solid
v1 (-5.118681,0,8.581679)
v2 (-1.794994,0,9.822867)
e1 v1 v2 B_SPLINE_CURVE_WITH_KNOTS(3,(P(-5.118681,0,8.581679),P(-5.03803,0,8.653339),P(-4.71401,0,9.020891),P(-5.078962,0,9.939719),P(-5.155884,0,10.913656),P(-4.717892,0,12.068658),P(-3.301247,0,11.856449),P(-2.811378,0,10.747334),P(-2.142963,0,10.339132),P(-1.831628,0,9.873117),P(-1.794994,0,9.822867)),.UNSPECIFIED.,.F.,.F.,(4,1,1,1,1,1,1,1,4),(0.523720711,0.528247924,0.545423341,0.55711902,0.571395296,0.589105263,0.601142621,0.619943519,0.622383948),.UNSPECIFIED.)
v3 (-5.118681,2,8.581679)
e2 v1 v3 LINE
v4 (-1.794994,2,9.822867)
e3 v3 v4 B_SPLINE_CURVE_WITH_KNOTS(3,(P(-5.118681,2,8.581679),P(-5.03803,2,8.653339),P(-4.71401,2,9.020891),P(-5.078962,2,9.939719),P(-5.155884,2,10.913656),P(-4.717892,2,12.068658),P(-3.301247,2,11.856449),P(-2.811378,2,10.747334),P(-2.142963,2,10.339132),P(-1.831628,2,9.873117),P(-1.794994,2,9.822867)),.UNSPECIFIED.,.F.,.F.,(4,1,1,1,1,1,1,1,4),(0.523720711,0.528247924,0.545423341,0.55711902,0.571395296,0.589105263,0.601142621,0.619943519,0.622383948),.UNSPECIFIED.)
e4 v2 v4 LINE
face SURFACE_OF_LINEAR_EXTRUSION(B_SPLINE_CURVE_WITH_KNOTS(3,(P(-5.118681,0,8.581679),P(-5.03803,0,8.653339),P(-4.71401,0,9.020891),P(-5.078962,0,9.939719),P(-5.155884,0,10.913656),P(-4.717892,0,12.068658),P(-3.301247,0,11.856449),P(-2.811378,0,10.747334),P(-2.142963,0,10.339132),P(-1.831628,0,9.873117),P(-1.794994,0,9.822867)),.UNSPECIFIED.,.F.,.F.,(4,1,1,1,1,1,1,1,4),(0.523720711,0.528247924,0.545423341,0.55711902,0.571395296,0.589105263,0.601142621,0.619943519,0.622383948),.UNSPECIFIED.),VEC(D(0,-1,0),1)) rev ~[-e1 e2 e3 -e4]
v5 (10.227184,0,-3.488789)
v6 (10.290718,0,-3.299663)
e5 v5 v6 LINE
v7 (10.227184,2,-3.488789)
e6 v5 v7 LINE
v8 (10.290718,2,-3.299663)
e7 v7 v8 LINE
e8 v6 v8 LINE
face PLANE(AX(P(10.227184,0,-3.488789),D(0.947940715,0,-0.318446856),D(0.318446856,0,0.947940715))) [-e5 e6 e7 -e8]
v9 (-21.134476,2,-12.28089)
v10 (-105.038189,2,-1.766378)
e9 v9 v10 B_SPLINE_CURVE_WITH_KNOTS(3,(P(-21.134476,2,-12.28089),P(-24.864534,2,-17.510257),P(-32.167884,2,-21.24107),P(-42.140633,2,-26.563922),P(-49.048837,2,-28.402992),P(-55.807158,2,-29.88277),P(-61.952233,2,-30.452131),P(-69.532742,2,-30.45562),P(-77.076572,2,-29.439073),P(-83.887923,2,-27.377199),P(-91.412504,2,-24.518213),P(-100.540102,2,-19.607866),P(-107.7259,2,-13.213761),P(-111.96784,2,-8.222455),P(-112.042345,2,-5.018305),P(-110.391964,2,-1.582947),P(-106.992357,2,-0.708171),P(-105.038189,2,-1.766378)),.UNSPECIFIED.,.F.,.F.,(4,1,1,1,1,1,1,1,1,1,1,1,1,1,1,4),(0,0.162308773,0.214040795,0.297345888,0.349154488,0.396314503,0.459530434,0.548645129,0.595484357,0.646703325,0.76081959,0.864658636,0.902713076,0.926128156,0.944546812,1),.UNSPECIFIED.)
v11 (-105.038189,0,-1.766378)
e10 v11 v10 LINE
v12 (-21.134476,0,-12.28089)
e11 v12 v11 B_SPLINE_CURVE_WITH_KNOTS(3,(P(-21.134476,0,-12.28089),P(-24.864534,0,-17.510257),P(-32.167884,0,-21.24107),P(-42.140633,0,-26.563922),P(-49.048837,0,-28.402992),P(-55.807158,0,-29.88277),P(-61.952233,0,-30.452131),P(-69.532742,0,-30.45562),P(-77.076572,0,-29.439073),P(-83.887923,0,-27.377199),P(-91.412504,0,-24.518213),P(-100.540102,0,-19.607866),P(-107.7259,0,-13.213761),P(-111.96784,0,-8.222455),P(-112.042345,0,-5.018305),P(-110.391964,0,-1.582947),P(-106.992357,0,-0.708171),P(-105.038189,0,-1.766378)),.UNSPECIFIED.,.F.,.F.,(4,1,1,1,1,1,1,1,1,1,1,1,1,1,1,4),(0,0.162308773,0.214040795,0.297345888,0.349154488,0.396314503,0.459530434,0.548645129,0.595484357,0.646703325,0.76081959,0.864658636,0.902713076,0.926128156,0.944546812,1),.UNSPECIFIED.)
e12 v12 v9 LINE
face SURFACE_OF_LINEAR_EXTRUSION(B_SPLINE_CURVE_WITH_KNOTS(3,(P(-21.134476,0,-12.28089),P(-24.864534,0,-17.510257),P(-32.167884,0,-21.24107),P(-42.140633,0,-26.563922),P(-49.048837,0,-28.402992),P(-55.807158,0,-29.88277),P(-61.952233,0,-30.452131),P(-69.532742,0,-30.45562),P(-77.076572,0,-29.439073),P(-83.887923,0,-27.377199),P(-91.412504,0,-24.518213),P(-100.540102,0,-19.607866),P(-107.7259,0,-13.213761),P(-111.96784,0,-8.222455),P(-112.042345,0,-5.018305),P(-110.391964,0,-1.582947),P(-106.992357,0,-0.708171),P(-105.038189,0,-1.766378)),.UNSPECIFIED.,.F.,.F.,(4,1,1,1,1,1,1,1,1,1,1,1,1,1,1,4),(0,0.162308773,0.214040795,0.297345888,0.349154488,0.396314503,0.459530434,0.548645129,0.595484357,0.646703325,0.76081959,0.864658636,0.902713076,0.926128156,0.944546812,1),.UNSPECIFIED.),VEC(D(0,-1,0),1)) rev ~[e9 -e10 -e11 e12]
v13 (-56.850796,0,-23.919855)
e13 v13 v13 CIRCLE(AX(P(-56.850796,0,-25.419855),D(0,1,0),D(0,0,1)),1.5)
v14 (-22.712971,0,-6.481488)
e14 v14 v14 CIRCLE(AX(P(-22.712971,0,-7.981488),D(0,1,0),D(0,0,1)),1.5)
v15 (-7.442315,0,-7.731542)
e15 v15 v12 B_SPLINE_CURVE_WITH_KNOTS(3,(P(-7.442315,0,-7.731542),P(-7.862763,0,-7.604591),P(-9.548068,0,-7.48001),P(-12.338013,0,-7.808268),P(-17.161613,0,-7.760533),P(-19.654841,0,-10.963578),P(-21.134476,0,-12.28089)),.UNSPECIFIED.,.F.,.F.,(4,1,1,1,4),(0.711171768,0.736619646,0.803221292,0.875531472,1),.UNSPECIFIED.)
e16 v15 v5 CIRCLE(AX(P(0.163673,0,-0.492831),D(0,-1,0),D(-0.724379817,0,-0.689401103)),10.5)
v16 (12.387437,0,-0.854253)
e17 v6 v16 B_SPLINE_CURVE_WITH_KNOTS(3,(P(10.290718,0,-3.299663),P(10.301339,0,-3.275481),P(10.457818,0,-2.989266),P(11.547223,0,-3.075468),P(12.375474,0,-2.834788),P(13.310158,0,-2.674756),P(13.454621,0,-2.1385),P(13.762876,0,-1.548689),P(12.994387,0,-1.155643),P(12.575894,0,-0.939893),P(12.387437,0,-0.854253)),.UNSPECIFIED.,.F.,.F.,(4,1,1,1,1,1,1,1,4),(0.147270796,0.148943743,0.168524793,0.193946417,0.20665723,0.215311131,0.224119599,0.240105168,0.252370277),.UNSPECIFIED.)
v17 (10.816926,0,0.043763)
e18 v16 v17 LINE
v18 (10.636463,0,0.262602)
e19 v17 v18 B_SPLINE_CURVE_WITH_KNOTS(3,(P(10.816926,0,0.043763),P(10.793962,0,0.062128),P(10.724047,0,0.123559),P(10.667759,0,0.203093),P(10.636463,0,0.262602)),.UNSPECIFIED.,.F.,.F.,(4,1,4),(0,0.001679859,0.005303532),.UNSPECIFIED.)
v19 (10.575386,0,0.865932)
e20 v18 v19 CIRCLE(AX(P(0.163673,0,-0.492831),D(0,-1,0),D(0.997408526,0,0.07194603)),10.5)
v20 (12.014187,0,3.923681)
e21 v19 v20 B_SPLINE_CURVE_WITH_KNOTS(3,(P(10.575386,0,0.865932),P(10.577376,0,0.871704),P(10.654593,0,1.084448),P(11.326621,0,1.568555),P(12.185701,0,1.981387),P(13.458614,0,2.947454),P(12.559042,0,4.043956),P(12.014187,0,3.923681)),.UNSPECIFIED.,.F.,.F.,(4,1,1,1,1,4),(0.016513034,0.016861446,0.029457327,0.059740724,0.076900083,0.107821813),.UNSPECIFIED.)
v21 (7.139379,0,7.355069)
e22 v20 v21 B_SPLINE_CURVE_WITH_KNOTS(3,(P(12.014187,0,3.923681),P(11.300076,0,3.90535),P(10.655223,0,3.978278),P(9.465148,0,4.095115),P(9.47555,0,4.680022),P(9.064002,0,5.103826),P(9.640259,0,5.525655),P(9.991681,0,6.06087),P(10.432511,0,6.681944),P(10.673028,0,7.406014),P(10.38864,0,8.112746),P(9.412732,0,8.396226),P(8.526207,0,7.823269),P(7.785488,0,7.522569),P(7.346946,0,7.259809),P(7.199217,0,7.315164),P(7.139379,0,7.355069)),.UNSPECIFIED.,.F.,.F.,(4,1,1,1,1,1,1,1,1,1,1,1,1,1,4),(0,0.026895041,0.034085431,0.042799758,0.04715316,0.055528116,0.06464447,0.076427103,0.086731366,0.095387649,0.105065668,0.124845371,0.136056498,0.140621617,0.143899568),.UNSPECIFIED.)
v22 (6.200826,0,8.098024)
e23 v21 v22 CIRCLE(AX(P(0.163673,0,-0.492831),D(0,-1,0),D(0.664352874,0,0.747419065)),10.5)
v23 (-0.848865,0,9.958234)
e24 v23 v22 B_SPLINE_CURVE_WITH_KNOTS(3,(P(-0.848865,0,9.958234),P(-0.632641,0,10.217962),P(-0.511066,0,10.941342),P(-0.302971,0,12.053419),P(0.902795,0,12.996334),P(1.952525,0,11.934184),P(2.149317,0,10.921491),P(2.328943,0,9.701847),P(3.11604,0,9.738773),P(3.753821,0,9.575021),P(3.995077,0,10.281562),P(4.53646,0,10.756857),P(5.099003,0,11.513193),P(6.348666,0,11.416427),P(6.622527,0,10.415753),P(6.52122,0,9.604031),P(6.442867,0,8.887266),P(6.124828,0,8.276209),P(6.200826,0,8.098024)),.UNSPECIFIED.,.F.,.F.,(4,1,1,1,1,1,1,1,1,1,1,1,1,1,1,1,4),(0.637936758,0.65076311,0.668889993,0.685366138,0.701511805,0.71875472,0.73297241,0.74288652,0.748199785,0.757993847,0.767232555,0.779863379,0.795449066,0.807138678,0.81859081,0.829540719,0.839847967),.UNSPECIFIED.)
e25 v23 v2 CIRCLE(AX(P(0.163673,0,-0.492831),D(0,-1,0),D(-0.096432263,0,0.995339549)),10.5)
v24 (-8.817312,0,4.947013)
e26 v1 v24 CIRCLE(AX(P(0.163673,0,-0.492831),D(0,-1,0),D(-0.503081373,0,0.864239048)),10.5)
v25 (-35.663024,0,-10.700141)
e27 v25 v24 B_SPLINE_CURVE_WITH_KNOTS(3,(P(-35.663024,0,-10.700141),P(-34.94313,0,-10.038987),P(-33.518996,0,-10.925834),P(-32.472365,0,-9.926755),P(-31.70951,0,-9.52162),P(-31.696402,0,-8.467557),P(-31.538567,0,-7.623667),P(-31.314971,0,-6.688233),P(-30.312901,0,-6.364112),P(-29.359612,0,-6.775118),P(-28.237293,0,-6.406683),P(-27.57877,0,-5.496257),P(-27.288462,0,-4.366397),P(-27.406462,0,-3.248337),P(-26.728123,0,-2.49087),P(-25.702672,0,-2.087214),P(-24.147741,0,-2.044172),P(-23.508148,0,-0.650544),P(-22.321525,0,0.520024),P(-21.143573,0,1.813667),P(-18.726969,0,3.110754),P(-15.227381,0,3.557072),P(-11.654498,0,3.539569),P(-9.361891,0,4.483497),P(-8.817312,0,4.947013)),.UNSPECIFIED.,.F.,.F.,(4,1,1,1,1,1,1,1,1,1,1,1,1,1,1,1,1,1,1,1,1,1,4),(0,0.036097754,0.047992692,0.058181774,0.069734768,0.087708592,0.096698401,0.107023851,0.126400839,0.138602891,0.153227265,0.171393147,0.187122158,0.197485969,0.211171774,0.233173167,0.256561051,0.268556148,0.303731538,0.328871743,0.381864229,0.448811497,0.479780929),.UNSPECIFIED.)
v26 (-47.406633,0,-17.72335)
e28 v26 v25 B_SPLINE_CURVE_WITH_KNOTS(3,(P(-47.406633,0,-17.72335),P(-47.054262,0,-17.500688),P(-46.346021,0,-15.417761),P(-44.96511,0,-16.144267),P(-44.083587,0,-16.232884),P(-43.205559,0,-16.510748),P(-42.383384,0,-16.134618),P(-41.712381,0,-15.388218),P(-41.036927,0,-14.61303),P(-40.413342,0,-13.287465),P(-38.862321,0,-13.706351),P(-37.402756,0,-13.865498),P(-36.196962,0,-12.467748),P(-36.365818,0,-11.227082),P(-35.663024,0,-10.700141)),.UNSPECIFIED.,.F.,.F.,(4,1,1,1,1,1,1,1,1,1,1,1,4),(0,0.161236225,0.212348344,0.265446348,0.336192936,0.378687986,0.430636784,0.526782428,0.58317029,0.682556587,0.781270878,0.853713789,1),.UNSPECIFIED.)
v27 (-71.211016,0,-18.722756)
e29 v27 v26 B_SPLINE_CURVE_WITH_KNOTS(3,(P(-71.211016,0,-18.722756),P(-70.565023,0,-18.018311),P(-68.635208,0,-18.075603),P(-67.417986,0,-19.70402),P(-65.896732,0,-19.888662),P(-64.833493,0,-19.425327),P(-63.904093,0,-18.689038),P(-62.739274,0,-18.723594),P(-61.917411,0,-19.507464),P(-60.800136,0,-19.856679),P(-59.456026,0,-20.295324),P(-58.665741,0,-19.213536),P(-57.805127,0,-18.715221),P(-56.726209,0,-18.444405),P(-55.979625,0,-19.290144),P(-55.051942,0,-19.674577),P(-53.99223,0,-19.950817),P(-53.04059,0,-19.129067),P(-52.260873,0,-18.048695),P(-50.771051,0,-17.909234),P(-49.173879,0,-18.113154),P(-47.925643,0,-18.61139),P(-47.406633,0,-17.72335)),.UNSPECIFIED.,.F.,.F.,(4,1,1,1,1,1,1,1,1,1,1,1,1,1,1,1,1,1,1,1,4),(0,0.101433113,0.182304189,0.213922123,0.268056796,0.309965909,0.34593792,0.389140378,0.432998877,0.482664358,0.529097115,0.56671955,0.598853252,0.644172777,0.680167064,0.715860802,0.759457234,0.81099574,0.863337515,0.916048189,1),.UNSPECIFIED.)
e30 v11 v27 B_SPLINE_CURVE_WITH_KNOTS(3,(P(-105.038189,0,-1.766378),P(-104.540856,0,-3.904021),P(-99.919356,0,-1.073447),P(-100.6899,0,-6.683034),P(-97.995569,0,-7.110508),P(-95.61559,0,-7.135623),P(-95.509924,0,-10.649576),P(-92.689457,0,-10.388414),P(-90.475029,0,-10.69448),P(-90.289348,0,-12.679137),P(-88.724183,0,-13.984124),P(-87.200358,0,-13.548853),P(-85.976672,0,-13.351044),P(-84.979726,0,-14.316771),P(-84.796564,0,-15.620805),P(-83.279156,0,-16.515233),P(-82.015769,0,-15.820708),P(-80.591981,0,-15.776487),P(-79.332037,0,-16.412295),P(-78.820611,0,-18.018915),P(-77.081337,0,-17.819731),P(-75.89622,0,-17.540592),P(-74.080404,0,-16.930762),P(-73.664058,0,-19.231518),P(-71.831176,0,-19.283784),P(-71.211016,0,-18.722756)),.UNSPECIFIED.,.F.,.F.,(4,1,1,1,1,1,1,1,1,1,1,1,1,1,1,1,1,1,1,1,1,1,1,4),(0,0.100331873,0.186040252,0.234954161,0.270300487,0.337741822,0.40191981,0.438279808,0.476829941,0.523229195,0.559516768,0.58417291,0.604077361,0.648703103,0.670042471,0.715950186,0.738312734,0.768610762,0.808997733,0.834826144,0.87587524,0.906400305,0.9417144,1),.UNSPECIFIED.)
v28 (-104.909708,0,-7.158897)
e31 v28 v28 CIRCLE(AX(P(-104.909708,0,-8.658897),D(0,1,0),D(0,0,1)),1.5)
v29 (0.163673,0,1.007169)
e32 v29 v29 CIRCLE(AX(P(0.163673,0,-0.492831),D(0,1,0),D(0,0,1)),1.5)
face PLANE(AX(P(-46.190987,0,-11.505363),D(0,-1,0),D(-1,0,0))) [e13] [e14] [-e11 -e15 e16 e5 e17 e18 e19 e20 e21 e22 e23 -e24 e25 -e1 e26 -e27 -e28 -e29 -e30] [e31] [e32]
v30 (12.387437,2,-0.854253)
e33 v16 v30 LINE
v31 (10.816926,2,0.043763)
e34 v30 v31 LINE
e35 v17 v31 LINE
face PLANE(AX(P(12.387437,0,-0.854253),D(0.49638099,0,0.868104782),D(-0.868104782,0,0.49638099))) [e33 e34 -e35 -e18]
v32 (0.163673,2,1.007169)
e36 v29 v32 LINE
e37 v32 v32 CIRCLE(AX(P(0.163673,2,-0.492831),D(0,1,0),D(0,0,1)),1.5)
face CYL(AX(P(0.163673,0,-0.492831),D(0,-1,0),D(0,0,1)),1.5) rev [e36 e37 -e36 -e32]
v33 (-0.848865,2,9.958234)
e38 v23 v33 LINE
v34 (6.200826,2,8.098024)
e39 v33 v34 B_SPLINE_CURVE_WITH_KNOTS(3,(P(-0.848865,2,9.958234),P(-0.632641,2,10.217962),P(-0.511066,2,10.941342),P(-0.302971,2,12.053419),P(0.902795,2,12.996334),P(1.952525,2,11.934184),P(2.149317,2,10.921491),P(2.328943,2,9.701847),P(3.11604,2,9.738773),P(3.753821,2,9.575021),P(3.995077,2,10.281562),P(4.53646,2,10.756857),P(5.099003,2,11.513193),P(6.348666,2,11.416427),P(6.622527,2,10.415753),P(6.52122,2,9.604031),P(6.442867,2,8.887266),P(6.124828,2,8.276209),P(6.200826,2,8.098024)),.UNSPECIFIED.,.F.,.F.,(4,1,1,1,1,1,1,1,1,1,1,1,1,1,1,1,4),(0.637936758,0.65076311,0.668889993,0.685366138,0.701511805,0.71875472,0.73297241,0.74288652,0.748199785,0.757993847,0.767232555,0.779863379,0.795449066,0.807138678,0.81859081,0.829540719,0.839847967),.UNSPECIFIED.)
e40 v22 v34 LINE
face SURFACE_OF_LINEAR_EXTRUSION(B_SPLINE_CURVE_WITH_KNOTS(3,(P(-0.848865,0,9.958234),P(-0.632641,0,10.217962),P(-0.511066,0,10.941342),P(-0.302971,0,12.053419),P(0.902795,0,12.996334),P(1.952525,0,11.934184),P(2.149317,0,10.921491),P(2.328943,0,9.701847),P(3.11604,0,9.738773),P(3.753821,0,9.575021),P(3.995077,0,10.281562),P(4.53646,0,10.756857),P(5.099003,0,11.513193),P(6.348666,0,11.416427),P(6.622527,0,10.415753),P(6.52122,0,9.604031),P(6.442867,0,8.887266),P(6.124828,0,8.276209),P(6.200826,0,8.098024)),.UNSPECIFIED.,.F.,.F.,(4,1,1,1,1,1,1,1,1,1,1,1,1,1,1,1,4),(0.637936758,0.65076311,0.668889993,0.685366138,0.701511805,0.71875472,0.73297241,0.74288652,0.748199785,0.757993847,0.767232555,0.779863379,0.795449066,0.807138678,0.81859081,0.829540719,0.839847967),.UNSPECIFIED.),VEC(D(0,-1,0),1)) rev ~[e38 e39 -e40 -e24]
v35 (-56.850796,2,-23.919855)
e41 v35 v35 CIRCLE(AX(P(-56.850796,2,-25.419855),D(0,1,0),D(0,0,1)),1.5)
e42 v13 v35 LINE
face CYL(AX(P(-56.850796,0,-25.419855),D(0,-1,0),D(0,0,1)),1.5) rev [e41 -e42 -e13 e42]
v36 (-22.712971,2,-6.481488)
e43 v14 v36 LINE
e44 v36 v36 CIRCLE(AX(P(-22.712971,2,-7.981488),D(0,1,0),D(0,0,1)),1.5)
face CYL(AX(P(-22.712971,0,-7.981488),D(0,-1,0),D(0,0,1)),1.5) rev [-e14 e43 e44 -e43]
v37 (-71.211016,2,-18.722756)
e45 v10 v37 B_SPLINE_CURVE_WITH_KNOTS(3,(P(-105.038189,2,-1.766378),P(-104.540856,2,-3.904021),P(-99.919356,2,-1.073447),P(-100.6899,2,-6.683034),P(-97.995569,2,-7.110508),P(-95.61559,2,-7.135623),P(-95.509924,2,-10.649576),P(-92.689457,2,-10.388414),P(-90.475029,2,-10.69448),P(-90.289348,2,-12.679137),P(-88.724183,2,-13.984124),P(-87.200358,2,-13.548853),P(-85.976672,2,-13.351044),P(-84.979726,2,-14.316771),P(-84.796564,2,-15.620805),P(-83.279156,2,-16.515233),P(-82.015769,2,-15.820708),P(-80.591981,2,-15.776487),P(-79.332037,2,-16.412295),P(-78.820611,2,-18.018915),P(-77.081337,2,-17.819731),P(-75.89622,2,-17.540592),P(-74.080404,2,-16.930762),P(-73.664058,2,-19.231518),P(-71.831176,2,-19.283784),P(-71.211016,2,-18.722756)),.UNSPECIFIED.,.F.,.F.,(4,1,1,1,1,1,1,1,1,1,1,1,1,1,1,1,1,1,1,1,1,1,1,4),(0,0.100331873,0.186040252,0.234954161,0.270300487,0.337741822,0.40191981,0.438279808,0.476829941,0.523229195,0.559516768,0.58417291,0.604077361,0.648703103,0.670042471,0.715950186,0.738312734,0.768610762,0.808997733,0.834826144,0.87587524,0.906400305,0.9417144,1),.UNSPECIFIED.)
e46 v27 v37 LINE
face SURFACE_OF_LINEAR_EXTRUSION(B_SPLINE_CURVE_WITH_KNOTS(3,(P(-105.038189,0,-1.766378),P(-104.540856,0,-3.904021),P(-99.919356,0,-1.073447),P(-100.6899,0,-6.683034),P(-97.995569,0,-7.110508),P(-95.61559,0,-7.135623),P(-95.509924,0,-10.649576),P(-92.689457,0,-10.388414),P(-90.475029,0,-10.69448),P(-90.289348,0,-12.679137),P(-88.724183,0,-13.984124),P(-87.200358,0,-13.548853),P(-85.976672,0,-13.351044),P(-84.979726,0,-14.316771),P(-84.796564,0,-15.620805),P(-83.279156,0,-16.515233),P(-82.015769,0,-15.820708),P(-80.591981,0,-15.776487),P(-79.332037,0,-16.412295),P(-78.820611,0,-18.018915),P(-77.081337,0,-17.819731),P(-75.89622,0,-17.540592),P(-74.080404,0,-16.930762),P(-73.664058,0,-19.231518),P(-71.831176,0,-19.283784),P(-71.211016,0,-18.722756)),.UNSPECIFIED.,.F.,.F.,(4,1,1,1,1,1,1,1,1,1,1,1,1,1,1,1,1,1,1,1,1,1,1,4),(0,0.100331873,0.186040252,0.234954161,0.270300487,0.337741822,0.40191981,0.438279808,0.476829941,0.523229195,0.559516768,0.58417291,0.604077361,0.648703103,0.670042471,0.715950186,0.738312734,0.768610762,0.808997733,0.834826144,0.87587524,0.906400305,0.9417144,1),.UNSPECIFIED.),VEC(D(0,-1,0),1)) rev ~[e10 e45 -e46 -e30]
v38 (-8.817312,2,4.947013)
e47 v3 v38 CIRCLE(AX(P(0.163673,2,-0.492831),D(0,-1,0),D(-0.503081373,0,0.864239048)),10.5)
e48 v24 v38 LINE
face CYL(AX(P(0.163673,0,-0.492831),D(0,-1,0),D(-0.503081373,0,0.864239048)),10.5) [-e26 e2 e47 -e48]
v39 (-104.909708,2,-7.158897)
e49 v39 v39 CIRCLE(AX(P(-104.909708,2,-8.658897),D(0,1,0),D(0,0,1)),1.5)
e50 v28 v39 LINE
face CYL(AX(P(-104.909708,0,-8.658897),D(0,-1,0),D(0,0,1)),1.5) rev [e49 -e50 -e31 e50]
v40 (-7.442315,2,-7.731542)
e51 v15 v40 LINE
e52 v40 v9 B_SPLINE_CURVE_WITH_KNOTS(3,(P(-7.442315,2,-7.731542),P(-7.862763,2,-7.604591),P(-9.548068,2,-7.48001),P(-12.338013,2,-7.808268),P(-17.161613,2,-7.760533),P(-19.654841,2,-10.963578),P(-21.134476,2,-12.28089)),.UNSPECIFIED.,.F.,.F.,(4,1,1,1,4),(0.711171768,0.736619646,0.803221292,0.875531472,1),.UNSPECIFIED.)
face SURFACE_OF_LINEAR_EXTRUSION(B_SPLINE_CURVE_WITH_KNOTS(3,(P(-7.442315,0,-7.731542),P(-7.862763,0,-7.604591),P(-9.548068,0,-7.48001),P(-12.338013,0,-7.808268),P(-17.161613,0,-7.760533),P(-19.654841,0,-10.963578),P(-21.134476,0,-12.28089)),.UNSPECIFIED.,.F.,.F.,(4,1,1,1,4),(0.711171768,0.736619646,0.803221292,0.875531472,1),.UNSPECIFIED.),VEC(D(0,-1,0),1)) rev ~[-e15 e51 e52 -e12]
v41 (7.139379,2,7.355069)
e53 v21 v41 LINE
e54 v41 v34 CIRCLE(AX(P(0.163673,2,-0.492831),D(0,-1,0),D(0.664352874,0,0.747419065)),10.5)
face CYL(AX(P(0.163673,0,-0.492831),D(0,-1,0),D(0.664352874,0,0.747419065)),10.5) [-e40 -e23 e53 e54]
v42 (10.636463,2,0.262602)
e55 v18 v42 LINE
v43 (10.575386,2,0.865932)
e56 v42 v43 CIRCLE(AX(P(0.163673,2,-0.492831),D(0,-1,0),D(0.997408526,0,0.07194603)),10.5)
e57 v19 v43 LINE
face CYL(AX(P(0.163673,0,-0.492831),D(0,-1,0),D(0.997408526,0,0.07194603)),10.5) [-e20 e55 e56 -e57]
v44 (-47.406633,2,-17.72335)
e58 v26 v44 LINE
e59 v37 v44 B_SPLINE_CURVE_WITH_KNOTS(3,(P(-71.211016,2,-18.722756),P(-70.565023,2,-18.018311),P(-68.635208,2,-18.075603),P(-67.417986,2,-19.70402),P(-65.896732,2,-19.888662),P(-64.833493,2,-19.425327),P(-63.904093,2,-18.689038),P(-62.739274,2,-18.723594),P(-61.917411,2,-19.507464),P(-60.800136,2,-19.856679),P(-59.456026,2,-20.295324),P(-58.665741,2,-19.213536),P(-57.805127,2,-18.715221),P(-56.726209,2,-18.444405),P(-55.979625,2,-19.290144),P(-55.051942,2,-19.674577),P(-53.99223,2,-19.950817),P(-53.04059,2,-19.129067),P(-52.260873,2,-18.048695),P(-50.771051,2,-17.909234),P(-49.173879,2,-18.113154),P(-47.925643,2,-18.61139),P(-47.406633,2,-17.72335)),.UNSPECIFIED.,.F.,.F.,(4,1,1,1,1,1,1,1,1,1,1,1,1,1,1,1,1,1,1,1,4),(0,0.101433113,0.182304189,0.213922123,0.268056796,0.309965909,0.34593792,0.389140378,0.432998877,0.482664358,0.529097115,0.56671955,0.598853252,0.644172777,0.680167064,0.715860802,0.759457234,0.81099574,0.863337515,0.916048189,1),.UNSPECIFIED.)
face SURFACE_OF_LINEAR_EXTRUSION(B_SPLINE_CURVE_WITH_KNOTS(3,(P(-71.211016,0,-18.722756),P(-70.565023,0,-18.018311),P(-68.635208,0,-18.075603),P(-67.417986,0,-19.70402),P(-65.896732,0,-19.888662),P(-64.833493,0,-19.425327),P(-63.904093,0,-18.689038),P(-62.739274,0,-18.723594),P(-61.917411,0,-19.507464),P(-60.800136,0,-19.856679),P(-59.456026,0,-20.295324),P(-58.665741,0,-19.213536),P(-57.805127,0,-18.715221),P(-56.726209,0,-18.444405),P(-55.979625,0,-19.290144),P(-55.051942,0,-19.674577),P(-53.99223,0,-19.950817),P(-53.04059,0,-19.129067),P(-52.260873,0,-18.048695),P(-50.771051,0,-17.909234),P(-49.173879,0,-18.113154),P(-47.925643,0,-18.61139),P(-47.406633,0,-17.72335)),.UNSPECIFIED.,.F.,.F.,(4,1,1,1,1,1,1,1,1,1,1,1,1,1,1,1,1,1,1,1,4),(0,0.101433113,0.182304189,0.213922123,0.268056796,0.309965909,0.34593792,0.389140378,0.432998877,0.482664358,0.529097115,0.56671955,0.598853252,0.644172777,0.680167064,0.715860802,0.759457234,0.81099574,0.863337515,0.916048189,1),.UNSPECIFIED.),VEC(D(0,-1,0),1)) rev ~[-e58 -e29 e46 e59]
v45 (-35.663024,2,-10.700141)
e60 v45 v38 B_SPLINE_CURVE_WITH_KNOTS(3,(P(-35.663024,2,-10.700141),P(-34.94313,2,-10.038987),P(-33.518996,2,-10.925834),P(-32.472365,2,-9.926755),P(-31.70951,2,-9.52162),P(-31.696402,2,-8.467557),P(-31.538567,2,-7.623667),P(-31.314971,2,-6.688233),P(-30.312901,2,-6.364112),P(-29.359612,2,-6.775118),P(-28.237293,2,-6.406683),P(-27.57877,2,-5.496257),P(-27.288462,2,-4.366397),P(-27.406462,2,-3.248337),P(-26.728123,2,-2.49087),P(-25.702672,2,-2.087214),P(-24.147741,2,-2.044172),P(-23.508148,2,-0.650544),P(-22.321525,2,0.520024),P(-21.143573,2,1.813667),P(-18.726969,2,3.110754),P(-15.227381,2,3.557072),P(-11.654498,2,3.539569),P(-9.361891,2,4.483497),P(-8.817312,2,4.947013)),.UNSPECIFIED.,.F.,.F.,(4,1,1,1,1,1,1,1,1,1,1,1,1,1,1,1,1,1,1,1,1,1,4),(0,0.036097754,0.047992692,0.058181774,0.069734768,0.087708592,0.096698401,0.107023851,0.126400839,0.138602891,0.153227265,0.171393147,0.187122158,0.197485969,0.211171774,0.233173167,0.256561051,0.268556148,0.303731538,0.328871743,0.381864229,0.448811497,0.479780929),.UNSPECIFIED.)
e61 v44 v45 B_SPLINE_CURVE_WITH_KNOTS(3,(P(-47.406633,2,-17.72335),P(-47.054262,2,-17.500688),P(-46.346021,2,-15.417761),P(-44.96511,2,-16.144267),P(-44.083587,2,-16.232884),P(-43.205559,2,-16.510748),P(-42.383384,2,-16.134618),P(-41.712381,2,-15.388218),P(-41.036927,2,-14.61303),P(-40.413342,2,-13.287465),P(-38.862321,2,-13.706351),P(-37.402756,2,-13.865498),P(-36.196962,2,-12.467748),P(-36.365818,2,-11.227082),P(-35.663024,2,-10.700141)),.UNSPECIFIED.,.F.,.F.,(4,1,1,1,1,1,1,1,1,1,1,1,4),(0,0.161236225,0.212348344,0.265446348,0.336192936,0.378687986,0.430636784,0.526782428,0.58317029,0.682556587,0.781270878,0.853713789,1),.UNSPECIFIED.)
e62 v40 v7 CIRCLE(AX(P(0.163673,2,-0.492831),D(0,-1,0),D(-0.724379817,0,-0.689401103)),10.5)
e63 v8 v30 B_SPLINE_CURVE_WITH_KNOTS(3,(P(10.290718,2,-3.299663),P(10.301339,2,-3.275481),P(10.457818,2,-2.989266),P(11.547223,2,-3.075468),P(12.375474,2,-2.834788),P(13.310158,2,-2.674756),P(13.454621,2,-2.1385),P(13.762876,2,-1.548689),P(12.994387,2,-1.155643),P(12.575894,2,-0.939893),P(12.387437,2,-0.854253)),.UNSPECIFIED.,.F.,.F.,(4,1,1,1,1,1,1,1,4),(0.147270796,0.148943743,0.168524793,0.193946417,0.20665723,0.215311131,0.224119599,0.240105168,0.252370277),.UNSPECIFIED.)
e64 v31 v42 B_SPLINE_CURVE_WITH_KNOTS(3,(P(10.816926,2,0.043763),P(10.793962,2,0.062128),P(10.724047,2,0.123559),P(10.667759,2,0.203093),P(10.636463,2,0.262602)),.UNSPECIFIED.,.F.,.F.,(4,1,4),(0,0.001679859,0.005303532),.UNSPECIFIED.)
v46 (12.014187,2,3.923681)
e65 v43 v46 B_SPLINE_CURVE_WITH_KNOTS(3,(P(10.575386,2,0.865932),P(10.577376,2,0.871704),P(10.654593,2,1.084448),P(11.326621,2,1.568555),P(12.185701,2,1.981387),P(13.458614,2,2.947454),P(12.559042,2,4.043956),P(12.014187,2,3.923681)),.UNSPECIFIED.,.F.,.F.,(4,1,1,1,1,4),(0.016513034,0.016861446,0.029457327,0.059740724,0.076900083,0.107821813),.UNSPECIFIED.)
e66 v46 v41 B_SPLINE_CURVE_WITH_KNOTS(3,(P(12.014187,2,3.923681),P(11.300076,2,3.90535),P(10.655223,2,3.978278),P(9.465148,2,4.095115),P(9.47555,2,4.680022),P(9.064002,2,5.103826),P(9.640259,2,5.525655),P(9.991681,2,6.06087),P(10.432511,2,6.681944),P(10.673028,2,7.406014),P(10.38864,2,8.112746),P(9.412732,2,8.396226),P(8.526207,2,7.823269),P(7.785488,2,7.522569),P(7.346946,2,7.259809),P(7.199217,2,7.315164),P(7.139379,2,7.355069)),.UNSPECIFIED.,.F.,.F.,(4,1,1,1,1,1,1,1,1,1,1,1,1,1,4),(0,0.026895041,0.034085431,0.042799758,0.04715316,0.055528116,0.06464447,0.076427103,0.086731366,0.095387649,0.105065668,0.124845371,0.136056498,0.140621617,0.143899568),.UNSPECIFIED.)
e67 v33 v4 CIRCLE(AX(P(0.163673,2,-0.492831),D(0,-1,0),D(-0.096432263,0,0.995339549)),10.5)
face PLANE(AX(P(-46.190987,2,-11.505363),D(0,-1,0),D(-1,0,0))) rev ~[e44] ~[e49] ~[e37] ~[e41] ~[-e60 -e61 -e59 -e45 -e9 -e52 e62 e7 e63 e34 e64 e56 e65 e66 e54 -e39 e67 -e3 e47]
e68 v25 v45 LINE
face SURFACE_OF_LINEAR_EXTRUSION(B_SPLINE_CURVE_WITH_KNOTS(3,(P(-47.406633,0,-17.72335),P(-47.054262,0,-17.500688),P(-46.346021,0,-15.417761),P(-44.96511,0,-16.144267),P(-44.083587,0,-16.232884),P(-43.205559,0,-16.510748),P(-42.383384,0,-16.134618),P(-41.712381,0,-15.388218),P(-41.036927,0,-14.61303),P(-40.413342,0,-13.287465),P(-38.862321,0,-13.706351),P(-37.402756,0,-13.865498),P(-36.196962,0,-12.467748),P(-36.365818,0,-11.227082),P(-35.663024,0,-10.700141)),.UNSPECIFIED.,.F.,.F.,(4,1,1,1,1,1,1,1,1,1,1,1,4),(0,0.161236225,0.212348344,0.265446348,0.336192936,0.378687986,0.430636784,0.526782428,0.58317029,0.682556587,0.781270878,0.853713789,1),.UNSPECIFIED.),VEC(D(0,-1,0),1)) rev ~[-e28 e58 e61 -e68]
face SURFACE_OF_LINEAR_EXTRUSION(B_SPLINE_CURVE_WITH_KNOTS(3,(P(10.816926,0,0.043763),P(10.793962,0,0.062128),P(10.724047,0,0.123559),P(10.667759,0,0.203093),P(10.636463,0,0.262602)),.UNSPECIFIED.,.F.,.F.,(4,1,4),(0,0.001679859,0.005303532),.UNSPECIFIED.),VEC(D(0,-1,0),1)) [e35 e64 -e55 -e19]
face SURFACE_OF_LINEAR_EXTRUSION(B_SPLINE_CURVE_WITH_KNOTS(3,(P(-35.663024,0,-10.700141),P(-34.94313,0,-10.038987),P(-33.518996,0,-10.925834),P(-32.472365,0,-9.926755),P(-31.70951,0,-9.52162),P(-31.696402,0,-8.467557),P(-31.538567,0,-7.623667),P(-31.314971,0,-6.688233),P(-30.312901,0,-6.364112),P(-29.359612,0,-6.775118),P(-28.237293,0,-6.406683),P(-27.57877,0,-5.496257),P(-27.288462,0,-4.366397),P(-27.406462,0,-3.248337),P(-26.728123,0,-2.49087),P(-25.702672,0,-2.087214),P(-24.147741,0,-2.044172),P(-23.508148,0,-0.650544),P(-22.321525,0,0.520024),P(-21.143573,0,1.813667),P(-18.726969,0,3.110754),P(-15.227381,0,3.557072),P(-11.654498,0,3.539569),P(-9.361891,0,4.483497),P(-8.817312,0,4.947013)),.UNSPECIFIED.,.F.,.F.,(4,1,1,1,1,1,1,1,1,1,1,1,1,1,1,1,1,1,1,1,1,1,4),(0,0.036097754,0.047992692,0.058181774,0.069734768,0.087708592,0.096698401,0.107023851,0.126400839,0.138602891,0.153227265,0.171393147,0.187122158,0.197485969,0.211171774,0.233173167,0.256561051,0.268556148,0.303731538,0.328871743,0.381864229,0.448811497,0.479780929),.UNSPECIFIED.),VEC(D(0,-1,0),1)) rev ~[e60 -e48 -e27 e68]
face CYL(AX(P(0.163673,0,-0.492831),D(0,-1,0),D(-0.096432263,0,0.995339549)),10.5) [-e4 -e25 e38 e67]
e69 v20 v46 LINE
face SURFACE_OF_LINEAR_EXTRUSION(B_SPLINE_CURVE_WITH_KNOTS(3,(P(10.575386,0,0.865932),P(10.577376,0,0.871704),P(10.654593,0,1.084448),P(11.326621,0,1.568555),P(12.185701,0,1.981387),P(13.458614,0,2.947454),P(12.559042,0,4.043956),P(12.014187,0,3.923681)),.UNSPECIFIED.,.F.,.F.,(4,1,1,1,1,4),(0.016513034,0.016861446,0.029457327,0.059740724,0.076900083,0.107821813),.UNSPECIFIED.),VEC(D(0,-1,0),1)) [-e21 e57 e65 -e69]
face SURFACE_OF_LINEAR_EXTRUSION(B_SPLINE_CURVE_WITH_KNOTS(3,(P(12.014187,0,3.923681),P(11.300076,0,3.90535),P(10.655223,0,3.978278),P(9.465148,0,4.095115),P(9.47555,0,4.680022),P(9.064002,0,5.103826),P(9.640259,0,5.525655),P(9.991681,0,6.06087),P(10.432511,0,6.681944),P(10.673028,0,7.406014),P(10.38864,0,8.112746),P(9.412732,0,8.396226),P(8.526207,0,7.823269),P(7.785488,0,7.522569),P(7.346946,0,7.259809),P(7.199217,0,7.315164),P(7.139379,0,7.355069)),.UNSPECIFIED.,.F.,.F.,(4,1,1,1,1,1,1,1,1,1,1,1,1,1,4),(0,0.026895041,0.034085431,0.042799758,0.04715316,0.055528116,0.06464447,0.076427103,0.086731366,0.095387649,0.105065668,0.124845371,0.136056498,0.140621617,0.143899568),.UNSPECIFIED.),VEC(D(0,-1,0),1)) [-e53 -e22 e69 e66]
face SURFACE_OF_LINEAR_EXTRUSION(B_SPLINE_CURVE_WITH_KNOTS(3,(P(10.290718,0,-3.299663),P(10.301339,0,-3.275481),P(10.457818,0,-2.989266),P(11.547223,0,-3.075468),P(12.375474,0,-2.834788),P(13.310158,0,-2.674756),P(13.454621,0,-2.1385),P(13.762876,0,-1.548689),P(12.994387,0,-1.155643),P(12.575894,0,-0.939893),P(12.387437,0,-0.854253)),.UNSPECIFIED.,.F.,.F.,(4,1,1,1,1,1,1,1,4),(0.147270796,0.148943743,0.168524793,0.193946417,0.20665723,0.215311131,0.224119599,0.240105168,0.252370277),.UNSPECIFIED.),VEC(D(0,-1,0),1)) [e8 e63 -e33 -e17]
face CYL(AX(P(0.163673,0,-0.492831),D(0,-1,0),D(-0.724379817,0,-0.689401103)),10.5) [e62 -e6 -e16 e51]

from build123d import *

# Parameters (mm, degrees)
SKETCH_1_R      = 1.5
EXTRUDE_1_DEPTH = 2


with BuildPart() as part:
    # 草图1 → 凸台-拉伸1 (new body)
    with BuildSketch(Plane(origin=(0, 0, 0), x_dir=(1, 0, 0), z_dir=(0, 1, 0))):
        with BuildLine():
            Line((10.227183647, 3.488788505), (10.290717603, 3.299662996))
            add(Edge.make_bspline(
                [(10.290717603, 3.299662996), (10.301338914, 3.275480746), (10.457818126, 2.989266375), (11.547223073, 3.07546841), (12.375473658, 2.834788373), (13.310157698, 2.674756162), (13.45462097, 2.138499572), (13.762876416, 1.548688953), (12.994386963, 1.155642889), (12.575893619, 0.939893422), (12.387437485, 0.854252789)],
                knots=[0.147270796, 0.147270796, 0.147270796, 0.147270796, 0.148943743, 0.168524793, 0.193946417, 0.20665723, 0.215311131, 0.224119599, 0.240105168, 0.252370277, 0.252370277, 0.252370277, 0.252370277], degree=3))
            Line((12.387437485, 0.854252789), (10.816925741, -0.043763429))
            add(Edge.make_bspline(
                [(10.816925741, -0.043763429), (10.793962383, -0.062127935), (10.724046987, -0.123558558), (10.667758964, -0.203093291), (10.636462955, -0.262602415)],
                knots=[0, 0, 0, 0, 0.001679859, 0.005303532, 0.005303532, 0.005303532, 0.005303532], degree=3))
            ThreePointArc((10.636462955, -0.262602415), (10.610281074, -0.564708063), (10.575386266, -0.865931678))
            add(Edge.make_bspline(
                [(10.575386266, -0.865931678), (10.577375526, -0.871704132), (10.654592566, -1.084447869), (11.326620603, -1.568554967), (12.185700777, -1.98138669), (13.458613749, -2.947454494), (12.559041732, -4.043955507), (12.014187133, -3.923680805)],
                knots=[0.016513034, 0.016513034, 0.016513034, 0.016513034, 0.016861446, 0.029457327, 0.059740724, 0.076900083, 0.107821813, 0.107821813, 0.107821813, 0.107821813], degree=3))
            add(Edge.make_bspline(
                [(12.014187133, -3.923680805), (11.300076476, -3.905350468), (10.655222884, -3.978278201), (9.465148323, -4.095115332), (9.47554962, -4.68002163), (9.06400231, -5.103825612), (9.640259421, -5.525655318), (9.991680975, -6.060870311), (10.432510753, -6.68194385), (10.673027897, -7.406014285), (10.388640434, -8.112746374), (9.412731932, -8.396226154), (8.526207414, -7.823268836), (7.785487758, -7.522568689), (7.346945643, -7.259809377), (7.199217259, -7.315164181), (7.139378616, -7.355069276)],
                knots=[0, 0, 0, 0, 0.026895041, 0.034085431, 0.042799758, 0.04715316, 0.055528116, 0.06464447, 0.076427103, 0.086731366, 0.095387649, 0.105065668, 0.124845371, 0.136056498, 0.140621617, 0.143899568, 0.143899568, 0.143899568, 0.143899568], degree=3))
            ThreePointArc((7.139378616, -7.355069276), (6.680698129, -7.73993225), (6.200825797, -8.098024198))
            add(Edge.make_bspline(
                [(-0.848865333, -9.958234372), (-0.632641288, -10.217962291), (-0.511066066, -10.941342328), (-0.302971257, -12.053418788), (0.902794935, -12.996334298), (1.952525336, -11.934184288), (2.149316639, -10.921490697), (2.328942608, -9.701846799), (3.11604044, -9.738772661), (3.753820562, -9.575020559), (3.995077237, -10.281561743), (4.536460309, -10.756857106), (5.099002721, -11.513193283), (6.348665707, -11.416427139), (6.622527471, -10.415752599), (6.521220282, -9.604030958), (6.442867488, -8.887266052), (6.124827698, -8.276208915), (6.200825797, -8.098024198)],
                knots=[0.637936758, 0.637936758, 0.637936758, 0.637936758, 0.65076311, 0.668889993, 0.685366138, 0.701511805, 0.71875472, 0.73297241, 0.74288652, 0.748199785, 0.757993847, 0.767232555, 0.779863379, 0.795449066, 0.807138678, 0.81859081, 0.829540719, 0.839847967, 0.839847967, 0.839847967, 0.839847967], degree=3))
            ThreePointArc((-0.848865333, -9.958234372), (-1.323470648, -9.901321425), (-1.794993908, -9.822866959))
            add(Edge.make_bspline(
                [(-5.118681012, -8.581679135), (-5.038030144, -8.653339013), (-4.714010071, -9.020890691), (-5.078961924, -9.939718694), (-5.155884043, -10.913655846), (-4.717891672, -12.068658289), (-3.301247232, -11.856448742), (-2.811378442, -10.747334251), (-2.142963074, -10.339131666), (-1.831628414, -9.87311674), (-1.794993908, -9.822866959)],
                knots=[0.523720711, 0.523720711, 0.523720711, 0.523720711, 0.528247924, 0.545423341, 0.55711902, 0.571395296, 0.589105263, 0.601142621, 0.619943519, 0.622383948, 0.622383948, 0.622383948, 0.622383948], degree=3))
            ThreePointArc((-5.118681012, -8.581679135), (-7.195906552, -6.996266732), (-8.817312191, -4.947012676))
            add(Edge.make_bspline(
                [(-35.663023794, 10.700141345), (-34.94312987, 10.038986812), (-33.518995547, 10.925833593), (-32.472365363, 9.92675466), (-31.709509799, 9.52162033), (-31.696401942, 8.467557397), (-31.538566623, 7.62366728), (-31.314970649, 6.688232564), (-30.312901427, 6.364112377), (-29.359611993, 6.775118479), (-28.237292534, 6.406683001), (-27.578770295, 5.49625708), (-27.288462376, 4.366397137), (-27.406462315, 3.248336955), (-26.728123042, 2.49086971), (-25.702672021, 2.087213777), (-24.147740715, 2.044171504), (-23.50814825, 0.650543623), (-22.321524606, -0.520024153), (-21.1435731, -1.813666705), (-18.726969113, -3.110754399), (-15.227380628, -3.557071775), (-11.654497645, -3.539568558), (-9.361890986, -4.483496585), (-8.817312191, -4.947012676)],
                knots=[0, 0, 0, 0, 0.036097754, 0.047992692, 0.058181774, 0.069734768, 0.087708592, 0.096698401, 0.107023851, 0.126400839, 0.138602891, 0.153227265, 0.171393147, 0.187122158, 0.197485969, 0.211171774, 0.233173167, 0.256561051, 0.268556148, 0.303731538, 0.328871743, 0.381864229, 0.448811497, 0.479780929, 0.479780929, 0.479780929, 0.479780929], degree=3))
            add(Edge.make_bspline(
                [(-47.406633283, 17.723349838), (-47.054262019, 17.500687635), (-46.346020955, 15.417760795), (-44.965110142, 16.144266591), (-44.083587165, 16.232883591), (-43.205559076, 16.510747881), (-42.383384313, 16.134617593), (-41.712380984, 15.388217963), (-41.036927374, 14.613030066), (-40.413341816, 13.2874651), (-38.86232086, 13.706351062), (-37.40275584, 13.865498164), (-36.196961705, 12.467747852), (-36.365818024, 11.227082172), (-35.663023794, 10.700141345)],
                knots=[0, 0, 0, 0, 0.161236225, 0.212348344, 0.265446348, 0.336192936, 0.378687986, 0.430636784, 0.526782428, 0.58317029, 0.682556587, 0.781270878, 0.853713789, 1, 1, 1, 1], degree=3))
            add(Edge.make_bspline(
                [(-71.211015786, 18.722756027), (-70.565023186, 18.018310927), (-68.635207655, 18.07560327), (-67.417986196, 19.704020005), (-65.896731708, 19.888662428), (-64.833492712, 19.425326943), (-63.904092676, 18.689038352), (-62.739273803, 18.72359405), (-61.917411105, 19.507463533), (-60.800136097, 19.856679076), (-59.456026134, 20.295324185), (-58.665740944, 19.213535743), (-57.805126962, 18.715220804), (-56.72620899, 18.444404662), (-55.979625185, 19.290144471), (-55.051942148, 19.674577173), (-53.99222981, 19.950816695), (-53.040589916, 19.129066901), (-52.260872716, 18.048694742), (-50.771050759, 17.909233555), (-49.173879365, 18.113153533), (-47.925642795, 18.611389728), (-47.406633283, 17.723349838)],
                knots=[0, 0, 0, 0, 0.101433113, 0.182304189, 0.213922123, 0.268056796, 0.309965909, 0.34593792, 0.389140378, 0.432998877, 0.482664358, 0.529097115, 0.56671955, 0.598853252, 0.644172777, 0.680167064, 0.715860802, 0.759457234, 0.81099574, 0.863337515, 0.916048189, 1, 1, 1, 1], degree=3))
            add(Edge.make_bspline(
                [(-105.038188782, 1.766377716), (-104.540855548, 3.904020539), (-99.919356226, 1.073446661), (-100.689899543, 6.683034055), (-97.995568756, 7.110507897), (-95.615590252, 7.135622523), (-95.509923919, 10.649576217), (-92.689456812, 10.38841404), (-90.475029289, 10.694480287), (-90.289347971, 12.679137442), (-88.724182671, 13.984123879), (-87.20035829, 13.548852968), (-85.976672167, 13.351043708), (-84.979725862, 14.316771144), (-84.796563555, 15.620805421), (-83.279156424, 16.515232605), (-82.015768769, 15.820708154), (-80.591980908, 15.776486739), (-79.332036558, 16.412295156), (-78.820611066, 18.018915213), (-77.081336876, 17.819731182), (-75.896220153, 17.540591655), (-74.080404318, 16.930762161), (-73.664058048, 19.231518493), (-71.83117553, 19.283783973), (-71.211015786, 18.722756027)],
                knots=[0, 0, 0, 0, 0.100331873, 0.186040252, 0.234954161, 0.270300487, 0.337741822, 0.40191981, 0.438279808, 0.476829941, 0.523229195, 0.559516768, 0.58417291, 0.604077361, 0.648703103, 0.670042471, 0.715950186, 0.738312734, 0.768610762, 0.808997733, 0.834826144, 0.87587524, 0.906400305, 0.9417144, 1, 1, 1, 1], degree=3))
            add(Edge.make_bspline(
                [(-21.134476435, 12.280890365), (-24.86453391, 17.51025742), (-32.167884001, 21.24106989), (-42.140633334, 26.56392235), (-49.048836823, 28.402991894), (-55.807157961, 29.882770351), (-61.952233466, 30.452131191), (-69.532741511, 30.455619887), (-77.076571557, 29.439073136), (-83.887922984, 27.377199081), (-91.412503551, 24.518212731), (-100.540102293, 19.607865984), (-107.725899874, 13.213761002), (-111.967840012, 8.222454738), (-112.042344632, 5.018304804), (-110.391963961, 1.582946793), (-106.992357259, 0.708171462), (-105.038188782, 1.766377716)],
                knots=[0, 0, 0, 0, 0.162308773, 0.214040795, 0.297345888, 0.349154488, 0.396314503, 0.459530434, 0.548645129, 0.595484357, 0.646703325, 0.76081959, 0.864658636, 0.902713076, 0.926128156, 0.944546812, 1, 1, 1, 1], degree=3))
            add(Edge.make_bspline(
                [(-7.44231465, 7.731542483), (-7.862763485, 7.604591339), (-9.54806768, 7.48001041), (-12.33801299, 7.808267568), (-17.161612571, 7.760533441), (-19.654840885, 10.96357838), (-21.134476435, 12.280890365)],
                knots=[0.711171768, 0.711171768, 0.711171768, 0.711171768, 0.736619646, 0.803221292, 0.875531472, 1, 1, 1, 1], degree=3))
            ThreePointArc((-7.44231465, 7.731542483), (2.615222752, 10.702625504), (10.227183647, 3.488788505))
        make_face()
        with Locations(Location((0.163673424, 0.492830898, 0), (0, 0, 270))):
            Circle(SKETCH_1_R, mode=Mode.SUBTRACT)
        with Locations(Location((-22.712970828, 7.981488376, 0), (0, 0, 270))):
            Circle(SKETCH_1_R, mode=Mode.SUBTRACT)
        with Locations(Location((-56.850795931, 25.41985454, 0), (0, 0, 270))):
            Circle(SKETCH_1_R, mode=Mode.SUBTRACT)
        with Locations(Location((-104.909707995, 8.658897353, 0), (0, 0, 270))):
            Circle(SKETCH_1_R, mode=Mode.SUBTRACT)
    extrude(amount=EXTRUDE_1_DEPTH)


solid = part.part
